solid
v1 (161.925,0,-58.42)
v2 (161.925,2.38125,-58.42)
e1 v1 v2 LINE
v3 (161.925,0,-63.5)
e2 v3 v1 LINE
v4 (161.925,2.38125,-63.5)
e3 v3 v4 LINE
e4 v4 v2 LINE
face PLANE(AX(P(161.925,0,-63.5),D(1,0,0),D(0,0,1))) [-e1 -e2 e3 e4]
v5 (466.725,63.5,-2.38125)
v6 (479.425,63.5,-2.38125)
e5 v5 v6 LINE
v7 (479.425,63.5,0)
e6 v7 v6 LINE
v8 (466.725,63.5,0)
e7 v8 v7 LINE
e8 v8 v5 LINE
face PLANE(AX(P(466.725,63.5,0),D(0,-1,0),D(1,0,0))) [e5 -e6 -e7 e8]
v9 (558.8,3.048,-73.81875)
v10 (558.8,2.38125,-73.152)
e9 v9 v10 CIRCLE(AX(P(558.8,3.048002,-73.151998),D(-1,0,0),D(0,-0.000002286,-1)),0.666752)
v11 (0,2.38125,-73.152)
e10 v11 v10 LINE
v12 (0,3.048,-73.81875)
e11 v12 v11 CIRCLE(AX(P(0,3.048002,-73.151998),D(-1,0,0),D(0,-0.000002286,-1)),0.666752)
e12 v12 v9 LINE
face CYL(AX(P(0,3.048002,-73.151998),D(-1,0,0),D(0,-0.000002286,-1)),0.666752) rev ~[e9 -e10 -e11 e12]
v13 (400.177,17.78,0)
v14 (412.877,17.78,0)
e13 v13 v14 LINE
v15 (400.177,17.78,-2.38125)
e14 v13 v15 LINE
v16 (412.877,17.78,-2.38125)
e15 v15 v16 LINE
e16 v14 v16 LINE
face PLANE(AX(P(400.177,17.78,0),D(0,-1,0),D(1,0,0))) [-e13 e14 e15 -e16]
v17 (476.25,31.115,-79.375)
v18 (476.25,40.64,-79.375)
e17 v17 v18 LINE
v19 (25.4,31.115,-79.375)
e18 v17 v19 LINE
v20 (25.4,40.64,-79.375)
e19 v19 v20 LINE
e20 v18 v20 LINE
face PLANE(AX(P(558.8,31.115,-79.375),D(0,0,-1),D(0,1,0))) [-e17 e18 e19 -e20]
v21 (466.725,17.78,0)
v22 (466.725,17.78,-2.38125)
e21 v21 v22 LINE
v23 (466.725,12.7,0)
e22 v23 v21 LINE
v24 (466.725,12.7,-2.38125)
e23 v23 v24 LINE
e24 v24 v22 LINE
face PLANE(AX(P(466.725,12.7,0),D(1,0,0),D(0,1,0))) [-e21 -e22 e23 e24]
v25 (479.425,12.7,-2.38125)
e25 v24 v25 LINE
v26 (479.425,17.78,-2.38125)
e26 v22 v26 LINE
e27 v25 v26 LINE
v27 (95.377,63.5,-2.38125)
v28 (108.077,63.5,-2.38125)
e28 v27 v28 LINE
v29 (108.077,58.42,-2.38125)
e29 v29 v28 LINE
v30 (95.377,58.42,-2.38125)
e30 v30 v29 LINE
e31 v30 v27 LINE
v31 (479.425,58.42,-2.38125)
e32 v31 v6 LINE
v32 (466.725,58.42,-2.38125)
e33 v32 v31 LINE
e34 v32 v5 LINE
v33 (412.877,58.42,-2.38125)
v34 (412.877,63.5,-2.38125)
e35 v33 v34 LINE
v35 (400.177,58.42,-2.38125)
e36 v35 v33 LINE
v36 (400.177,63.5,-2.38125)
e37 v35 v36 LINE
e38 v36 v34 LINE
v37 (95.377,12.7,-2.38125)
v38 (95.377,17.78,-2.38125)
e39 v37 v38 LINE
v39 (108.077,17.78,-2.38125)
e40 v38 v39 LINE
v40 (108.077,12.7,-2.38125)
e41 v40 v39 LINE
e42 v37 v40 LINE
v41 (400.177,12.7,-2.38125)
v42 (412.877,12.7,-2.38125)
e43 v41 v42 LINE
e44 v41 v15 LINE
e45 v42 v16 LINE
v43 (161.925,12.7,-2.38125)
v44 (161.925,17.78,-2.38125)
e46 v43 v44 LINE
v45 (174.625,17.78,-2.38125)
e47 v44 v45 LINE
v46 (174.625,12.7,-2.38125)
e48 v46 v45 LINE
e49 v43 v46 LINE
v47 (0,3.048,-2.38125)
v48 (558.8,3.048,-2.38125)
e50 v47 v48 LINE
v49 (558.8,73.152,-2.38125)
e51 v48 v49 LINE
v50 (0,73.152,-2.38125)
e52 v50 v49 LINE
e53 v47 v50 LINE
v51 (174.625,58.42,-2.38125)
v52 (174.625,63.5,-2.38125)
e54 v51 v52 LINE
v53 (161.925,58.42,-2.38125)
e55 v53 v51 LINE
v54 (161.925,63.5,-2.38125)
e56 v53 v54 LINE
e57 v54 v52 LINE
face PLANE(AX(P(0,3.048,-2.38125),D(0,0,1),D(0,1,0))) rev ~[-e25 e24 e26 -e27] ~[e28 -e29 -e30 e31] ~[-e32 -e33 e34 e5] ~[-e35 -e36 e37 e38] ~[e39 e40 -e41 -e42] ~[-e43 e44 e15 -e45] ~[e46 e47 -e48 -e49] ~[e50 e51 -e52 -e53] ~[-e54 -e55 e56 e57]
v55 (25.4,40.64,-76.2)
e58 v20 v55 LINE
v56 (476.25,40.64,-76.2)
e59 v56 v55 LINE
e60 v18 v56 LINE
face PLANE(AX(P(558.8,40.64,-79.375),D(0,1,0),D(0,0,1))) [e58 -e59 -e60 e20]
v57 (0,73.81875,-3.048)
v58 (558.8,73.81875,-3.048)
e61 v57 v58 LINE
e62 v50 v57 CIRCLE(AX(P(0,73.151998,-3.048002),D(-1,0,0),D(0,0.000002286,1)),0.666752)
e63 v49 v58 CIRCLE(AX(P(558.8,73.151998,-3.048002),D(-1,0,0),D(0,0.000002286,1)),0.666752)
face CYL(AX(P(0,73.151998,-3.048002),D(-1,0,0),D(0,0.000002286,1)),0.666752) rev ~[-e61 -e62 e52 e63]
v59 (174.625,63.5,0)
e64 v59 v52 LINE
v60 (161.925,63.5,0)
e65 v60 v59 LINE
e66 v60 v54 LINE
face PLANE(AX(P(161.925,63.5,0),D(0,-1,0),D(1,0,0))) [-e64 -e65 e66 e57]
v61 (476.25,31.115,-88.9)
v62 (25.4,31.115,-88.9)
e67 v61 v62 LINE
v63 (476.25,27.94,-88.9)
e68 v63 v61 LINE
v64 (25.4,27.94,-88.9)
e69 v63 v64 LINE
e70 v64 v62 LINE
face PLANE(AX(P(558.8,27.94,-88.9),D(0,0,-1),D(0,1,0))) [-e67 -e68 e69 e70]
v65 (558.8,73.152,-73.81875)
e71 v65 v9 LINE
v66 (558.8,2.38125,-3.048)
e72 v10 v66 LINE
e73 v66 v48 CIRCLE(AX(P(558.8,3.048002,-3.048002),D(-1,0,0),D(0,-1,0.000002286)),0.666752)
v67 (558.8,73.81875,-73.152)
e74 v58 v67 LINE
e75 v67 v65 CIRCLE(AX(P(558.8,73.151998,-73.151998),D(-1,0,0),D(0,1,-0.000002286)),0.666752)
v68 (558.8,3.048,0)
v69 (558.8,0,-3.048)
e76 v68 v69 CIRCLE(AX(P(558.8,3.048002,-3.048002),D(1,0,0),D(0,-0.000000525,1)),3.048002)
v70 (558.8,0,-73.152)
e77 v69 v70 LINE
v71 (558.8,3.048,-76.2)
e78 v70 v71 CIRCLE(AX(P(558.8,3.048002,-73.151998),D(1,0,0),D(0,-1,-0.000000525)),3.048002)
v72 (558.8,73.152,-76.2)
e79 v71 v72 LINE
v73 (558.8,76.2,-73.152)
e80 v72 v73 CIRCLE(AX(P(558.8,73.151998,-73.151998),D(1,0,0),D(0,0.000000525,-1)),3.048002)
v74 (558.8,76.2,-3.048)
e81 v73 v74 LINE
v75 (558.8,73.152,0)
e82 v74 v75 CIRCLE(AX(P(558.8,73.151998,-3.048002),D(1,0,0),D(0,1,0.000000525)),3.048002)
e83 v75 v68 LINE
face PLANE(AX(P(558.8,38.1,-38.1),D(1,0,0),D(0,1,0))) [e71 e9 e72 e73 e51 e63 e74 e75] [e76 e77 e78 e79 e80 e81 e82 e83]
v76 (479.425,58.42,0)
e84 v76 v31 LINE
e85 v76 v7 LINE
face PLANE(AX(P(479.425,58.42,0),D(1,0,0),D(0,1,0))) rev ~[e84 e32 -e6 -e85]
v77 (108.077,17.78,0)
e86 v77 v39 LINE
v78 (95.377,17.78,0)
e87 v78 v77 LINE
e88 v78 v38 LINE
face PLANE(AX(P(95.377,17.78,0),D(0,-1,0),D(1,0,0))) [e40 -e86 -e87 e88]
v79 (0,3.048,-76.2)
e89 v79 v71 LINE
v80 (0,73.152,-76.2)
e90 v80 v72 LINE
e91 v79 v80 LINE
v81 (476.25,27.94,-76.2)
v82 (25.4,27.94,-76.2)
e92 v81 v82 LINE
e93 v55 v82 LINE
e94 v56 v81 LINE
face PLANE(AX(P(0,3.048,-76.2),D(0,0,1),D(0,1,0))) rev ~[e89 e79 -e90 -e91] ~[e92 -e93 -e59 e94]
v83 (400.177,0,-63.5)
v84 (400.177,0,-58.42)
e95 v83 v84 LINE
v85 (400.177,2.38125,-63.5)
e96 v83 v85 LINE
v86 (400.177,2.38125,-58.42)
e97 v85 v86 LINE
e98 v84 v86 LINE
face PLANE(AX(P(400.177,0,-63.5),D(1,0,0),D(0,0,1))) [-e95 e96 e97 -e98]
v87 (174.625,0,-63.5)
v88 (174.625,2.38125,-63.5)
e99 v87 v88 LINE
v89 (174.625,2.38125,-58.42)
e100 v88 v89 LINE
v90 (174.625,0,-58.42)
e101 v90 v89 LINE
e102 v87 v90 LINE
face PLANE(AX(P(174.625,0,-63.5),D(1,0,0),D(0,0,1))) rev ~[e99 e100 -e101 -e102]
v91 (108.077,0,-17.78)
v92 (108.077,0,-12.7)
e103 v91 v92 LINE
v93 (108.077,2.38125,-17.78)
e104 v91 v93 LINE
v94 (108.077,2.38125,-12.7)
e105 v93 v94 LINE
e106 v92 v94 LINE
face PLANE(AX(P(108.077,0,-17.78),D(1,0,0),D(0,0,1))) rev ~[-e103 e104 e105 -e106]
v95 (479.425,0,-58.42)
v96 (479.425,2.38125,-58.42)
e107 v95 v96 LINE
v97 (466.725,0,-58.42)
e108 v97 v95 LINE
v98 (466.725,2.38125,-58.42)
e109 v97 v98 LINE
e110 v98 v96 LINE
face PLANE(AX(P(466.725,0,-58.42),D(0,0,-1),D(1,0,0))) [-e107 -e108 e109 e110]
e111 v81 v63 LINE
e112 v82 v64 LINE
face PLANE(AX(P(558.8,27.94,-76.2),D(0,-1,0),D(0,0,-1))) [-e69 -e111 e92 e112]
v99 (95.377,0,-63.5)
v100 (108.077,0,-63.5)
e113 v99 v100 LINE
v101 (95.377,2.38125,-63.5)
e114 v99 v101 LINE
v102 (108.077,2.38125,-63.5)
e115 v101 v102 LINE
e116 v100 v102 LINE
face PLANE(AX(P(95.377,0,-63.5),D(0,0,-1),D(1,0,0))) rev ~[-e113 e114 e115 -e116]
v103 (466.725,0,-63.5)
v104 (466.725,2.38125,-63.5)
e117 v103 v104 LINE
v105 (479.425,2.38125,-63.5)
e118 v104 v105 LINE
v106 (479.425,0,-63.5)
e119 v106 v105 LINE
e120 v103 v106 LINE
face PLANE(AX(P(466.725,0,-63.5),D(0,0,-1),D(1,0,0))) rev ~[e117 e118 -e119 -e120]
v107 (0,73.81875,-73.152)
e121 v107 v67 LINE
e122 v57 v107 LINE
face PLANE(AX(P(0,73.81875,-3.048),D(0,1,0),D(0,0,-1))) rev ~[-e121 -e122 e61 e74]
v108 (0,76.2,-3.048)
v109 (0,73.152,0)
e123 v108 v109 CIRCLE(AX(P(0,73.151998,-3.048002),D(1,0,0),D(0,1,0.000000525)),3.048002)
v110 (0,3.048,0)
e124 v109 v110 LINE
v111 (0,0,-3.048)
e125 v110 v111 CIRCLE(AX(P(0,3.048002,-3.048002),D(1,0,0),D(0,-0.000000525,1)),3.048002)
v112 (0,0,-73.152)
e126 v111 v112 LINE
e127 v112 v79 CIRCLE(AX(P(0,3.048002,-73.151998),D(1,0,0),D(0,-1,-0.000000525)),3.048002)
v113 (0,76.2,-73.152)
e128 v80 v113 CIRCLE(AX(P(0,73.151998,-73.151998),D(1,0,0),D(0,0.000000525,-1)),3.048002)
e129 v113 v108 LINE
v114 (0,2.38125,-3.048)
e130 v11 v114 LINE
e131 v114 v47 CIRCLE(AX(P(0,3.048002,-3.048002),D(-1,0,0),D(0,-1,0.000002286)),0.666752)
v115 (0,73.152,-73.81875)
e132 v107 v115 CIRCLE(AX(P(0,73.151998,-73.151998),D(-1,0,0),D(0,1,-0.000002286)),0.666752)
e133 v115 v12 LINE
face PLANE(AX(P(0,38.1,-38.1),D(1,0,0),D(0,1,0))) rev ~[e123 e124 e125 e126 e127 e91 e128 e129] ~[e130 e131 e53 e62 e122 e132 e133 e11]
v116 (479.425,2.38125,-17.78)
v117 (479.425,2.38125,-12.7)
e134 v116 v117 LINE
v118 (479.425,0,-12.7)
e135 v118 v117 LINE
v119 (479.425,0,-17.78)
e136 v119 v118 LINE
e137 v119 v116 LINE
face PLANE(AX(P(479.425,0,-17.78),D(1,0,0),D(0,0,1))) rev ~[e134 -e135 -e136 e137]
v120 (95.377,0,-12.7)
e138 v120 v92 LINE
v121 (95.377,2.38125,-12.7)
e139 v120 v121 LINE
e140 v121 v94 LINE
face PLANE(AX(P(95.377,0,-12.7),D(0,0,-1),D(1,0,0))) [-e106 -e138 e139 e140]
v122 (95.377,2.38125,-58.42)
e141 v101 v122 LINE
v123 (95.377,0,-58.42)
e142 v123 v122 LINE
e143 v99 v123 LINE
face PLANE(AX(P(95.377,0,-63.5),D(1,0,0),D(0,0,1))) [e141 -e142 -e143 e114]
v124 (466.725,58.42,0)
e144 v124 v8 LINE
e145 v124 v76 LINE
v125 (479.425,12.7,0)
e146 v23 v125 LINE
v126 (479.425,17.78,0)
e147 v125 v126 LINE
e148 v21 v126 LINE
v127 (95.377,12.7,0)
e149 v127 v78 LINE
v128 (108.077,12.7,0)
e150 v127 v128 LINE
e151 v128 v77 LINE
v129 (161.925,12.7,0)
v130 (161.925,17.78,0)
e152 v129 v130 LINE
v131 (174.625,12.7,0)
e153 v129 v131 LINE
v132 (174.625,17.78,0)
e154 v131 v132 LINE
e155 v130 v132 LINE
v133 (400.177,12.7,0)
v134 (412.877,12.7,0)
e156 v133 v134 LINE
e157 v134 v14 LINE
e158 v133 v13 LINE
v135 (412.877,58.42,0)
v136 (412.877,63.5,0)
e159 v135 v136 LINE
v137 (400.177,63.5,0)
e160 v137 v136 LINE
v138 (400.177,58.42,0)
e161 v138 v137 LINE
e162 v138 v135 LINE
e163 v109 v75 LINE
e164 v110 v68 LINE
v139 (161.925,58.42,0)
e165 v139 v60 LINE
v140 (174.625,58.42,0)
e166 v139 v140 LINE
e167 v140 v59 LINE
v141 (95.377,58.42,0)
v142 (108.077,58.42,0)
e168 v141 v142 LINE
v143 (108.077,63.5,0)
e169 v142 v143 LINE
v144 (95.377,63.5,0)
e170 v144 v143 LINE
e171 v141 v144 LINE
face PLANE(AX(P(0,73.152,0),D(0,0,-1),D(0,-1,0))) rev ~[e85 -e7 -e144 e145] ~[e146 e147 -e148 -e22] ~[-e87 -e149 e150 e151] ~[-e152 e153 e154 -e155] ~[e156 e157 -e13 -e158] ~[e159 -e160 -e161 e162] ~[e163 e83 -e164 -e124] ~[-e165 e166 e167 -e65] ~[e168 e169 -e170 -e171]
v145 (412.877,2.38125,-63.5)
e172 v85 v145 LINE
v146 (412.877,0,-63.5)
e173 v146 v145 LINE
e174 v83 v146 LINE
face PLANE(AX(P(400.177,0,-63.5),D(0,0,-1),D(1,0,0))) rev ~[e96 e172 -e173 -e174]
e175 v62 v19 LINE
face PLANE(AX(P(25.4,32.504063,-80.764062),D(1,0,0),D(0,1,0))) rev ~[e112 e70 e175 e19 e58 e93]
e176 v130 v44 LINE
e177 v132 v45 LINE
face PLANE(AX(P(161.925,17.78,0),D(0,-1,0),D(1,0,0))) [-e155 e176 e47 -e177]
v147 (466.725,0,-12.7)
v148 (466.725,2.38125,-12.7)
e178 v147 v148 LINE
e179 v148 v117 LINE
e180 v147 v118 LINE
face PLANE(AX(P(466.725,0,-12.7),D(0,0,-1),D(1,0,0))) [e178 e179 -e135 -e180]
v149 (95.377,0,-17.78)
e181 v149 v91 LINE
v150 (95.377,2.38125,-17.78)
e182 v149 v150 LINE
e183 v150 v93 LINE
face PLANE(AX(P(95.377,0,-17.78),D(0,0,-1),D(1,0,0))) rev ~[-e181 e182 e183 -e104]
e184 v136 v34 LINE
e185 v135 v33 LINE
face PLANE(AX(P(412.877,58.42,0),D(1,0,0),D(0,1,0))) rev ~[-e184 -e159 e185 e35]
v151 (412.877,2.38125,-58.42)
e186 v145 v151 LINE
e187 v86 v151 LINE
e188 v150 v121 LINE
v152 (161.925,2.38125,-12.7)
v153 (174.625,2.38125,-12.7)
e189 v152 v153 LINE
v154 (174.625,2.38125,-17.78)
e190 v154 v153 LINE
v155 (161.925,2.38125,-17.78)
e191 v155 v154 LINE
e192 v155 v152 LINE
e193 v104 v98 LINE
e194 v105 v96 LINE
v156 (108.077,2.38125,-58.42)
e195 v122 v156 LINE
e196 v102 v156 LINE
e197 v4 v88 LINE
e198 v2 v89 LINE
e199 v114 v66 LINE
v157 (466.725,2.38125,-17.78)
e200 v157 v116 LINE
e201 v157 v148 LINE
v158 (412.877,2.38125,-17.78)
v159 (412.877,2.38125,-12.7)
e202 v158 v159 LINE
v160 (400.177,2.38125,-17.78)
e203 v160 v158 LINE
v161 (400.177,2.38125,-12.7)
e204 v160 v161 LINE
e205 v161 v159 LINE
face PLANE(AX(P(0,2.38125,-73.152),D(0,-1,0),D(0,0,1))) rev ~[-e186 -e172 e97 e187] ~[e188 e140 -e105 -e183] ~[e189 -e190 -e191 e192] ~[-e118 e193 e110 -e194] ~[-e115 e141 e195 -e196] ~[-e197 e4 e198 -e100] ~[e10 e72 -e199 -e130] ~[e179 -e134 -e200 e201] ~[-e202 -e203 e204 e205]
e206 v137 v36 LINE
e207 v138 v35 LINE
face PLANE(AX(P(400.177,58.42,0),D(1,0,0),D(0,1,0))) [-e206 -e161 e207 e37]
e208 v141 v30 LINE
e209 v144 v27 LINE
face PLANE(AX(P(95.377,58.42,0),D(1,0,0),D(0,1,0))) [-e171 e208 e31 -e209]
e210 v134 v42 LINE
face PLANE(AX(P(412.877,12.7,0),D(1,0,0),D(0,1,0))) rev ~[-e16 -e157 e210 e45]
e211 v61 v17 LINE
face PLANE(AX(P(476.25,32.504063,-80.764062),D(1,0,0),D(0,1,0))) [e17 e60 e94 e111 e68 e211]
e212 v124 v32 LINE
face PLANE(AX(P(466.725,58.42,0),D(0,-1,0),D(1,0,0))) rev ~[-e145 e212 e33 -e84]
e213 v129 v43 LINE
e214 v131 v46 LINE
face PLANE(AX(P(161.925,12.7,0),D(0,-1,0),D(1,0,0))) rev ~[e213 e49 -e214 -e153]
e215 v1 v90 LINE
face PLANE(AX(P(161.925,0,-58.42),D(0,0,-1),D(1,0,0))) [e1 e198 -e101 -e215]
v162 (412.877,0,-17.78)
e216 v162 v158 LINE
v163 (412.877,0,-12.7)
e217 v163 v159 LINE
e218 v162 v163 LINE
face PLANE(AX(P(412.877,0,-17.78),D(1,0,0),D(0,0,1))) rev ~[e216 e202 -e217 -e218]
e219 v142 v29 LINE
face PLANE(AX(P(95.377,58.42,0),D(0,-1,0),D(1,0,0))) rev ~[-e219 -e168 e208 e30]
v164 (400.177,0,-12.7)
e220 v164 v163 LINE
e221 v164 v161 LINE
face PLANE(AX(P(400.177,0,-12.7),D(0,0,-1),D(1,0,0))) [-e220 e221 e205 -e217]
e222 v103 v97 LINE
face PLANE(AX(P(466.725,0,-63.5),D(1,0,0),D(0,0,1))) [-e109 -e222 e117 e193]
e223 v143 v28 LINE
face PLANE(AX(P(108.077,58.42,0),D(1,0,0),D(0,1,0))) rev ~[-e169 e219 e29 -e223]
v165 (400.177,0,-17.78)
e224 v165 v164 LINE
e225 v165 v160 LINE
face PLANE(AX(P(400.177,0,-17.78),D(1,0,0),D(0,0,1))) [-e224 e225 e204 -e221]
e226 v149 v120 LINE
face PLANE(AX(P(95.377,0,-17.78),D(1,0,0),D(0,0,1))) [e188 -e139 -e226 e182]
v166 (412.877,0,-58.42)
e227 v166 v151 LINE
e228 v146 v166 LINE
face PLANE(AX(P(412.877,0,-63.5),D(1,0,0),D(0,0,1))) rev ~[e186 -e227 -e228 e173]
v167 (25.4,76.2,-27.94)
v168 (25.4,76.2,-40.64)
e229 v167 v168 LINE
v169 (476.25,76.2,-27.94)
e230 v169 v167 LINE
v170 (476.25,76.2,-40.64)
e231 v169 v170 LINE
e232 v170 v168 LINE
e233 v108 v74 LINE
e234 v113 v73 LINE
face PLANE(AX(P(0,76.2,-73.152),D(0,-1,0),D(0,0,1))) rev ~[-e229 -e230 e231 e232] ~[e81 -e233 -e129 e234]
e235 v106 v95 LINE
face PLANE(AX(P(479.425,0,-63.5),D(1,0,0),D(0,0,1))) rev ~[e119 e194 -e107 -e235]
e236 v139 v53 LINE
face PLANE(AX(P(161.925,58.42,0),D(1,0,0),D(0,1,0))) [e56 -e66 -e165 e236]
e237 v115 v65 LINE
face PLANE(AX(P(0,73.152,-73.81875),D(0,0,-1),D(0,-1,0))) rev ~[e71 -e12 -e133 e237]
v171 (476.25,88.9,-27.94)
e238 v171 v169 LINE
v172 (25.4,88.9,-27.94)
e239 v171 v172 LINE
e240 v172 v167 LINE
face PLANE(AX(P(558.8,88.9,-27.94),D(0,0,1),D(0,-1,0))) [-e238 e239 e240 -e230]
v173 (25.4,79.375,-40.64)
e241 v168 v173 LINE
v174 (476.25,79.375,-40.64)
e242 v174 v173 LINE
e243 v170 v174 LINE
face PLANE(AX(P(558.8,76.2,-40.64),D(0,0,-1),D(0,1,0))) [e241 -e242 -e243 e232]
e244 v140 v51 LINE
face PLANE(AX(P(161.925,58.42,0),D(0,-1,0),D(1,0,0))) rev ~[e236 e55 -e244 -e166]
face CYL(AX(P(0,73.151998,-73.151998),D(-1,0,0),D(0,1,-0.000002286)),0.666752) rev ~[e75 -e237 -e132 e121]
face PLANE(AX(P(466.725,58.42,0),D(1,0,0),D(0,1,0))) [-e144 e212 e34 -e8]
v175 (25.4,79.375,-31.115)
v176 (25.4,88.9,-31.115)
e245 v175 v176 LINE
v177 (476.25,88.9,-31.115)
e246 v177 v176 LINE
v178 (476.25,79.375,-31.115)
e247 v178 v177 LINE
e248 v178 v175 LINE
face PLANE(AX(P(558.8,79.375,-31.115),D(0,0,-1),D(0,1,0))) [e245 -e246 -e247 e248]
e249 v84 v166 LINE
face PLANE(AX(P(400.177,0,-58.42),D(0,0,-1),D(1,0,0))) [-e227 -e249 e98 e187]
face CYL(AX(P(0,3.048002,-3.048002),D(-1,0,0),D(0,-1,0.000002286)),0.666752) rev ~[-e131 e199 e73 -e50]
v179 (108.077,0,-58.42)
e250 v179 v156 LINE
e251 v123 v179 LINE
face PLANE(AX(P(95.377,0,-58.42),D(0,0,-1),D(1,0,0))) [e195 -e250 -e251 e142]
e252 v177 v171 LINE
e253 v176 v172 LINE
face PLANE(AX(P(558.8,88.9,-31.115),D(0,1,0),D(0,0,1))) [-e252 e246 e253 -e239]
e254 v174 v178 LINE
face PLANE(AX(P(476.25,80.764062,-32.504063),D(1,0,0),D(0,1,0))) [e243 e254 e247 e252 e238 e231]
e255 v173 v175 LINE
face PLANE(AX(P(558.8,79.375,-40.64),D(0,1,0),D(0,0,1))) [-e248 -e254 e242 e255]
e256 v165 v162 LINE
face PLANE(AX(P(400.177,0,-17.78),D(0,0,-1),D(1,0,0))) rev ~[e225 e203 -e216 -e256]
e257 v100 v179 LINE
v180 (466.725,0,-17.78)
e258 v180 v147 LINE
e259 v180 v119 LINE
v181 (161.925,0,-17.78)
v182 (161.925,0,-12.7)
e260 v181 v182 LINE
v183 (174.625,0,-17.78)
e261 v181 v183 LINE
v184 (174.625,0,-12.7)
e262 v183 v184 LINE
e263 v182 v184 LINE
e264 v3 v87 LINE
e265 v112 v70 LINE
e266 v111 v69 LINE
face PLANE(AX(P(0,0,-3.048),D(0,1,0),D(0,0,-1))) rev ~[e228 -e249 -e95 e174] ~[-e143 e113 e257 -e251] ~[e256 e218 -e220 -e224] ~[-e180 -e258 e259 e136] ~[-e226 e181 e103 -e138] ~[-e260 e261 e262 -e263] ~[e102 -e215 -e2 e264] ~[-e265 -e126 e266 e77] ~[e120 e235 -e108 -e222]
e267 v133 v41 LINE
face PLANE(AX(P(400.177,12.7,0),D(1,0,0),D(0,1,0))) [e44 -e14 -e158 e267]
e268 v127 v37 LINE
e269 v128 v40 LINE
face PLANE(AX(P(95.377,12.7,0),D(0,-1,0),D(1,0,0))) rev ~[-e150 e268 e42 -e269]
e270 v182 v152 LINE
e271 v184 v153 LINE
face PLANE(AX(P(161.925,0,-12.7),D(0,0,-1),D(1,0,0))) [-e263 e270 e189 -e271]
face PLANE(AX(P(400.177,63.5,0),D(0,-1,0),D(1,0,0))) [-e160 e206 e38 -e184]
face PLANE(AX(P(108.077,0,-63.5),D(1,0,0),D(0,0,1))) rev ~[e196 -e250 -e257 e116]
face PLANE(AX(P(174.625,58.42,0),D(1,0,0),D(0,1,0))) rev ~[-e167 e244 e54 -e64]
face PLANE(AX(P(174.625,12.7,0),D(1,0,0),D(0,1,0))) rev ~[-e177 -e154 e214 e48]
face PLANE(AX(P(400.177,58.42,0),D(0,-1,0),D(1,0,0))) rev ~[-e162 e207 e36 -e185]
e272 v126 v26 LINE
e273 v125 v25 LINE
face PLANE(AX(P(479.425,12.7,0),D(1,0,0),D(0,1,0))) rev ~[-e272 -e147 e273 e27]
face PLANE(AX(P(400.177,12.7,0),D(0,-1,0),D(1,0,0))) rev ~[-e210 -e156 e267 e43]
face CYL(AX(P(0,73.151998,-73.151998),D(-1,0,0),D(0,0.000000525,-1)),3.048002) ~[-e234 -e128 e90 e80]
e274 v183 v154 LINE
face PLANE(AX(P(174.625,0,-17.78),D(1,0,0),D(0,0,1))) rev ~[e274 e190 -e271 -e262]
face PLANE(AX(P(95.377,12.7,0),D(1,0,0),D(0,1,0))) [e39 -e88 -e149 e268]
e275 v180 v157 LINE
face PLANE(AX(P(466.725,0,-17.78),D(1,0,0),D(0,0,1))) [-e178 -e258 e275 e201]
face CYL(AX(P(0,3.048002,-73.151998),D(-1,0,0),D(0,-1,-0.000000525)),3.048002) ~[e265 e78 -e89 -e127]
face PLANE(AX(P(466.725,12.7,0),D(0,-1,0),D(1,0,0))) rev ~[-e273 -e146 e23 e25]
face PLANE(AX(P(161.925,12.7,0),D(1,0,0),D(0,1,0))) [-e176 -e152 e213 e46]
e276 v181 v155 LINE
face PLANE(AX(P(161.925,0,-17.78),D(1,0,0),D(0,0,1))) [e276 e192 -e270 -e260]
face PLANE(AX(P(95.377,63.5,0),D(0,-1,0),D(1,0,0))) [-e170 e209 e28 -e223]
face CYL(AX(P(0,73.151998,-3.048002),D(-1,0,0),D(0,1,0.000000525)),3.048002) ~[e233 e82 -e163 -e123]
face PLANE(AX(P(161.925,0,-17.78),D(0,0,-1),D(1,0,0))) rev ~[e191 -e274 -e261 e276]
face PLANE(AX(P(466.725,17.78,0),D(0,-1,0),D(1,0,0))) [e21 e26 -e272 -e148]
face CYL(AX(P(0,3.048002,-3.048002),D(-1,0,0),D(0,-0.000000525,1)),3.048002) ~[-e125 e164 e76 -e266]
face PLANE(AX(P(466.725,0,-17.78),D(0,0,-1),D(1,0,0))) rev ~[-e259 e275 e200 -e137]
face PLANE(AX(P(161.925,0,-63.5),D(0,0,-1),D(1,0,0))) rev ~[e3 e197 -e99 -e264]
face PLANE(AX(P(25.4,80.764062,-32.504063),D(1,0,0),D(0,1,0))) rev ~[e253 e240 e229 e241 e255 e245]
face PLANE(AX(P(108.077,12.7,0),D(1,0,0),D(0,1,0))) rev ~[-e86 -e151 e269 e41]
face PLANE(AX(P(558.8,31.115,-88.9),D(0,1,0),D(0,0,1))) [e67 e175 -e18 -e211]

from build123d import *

# Parameters (mm, degrees)
F1_DEPTH = 558.8
F2_W     = 12.7
F2_H     = 5.08
F3_DEPTH = 2.38125
F4_DEPTH = 2.38125
F5_W     = 12.7
F5_H     = 5.08
F6_DEPTH = 2.38125
F8_DEPTH = 533.4
F9_DEPTH = 82.55


with BuildPart() as f1:
    # F0 (on Right) → F1 (new body)
    with BuildSketch(Plane.YZ):
        with BuildLine():
            Line((73.152, 0), (3.048, 0))
            ThreePointArc((3.048, 0), (0.892739, -0.892739), (0, -3.048))
            Line((0, -3.048), (0, -73.152))
            ThreePointArc((0, -73.152), (0.892739, -75.307261), (3.048, -76.2))
            Line((3.048, -76.2), (73.152, -76.2))
            ThreePointArc((73.152, -76.2), (75.307261, -75.307261), (76.2, -73.152))
            Line((76.2, -73.152), (76.2, -3.048))
            ThreePointArc((76.2, -3.048), (75.307261, -0.892739), (73.152, 0))
        make_face()
        with BuildLine():
            ThreePointArc((73.152, -2.38125), (73.623463, -2.576537), (73.81875, -3.048))
            Line((73.81875, -3.048), (73.81875, -73.152))
            ThreePointArc((73.81875, -73.152), (73.623463, -73.623463), (73.152, -73.81875))
            Line((73.152, -73.81875), (3.048, -73.81875))
            ThreePointArc((3.048, -73.81875), (2.576537, -73.623463), (2.38125, -73.152))
            Line((2.38125, -73.152), (2.38125, -3.048))
            ThreePointArc((2.38125, -3.048), (2.576537, -2.576537), (3.048, -2.38125))
            Line((3.048, -2.38125), (73.152, -2.38125))
        make_face(mode=Mode.SUBTRACT)
    extrude(amount=F1_DEPTH)

    # F2 (on face) → F3 (cut)
    with BuildSketch(Plane.XY):
        with Locations((473.075, 60.96)):
            Rectangle(F2_W, F2_H)
        with Locations((473.075, 15.24)):
            Rectangle(F2_W, F2_H)
        with Locations((406.527, 15.24)):
            Rectangle(F2_W, F2_H)
        with Locations((406.527, 60.96)):
            Rectangle(F2_W, F2_H)
    extrude(amount=-F3_DEPTH, mode=Mode.SUBTRACT)

    # F2 (on face) → F4 (cut)
    with BuildSketch(Plane.XY):
        with Locations((168.275, 60.96)):
            Rectangle(F2_W, F2_H)
        with Locations((168.275, 15.24)):
            Rectangle(F2_W, F2_H)
        with Locations((101.727, 15.24)):
            Rectangle(F2_W, F2_H)
        with Locations((101.727, 60.96)):
            Rectangle(F2_W, F2_H)
    extrude(amount=-F4_DEPTH, mode=Mode.SUBTRACT)

    # F5 (on face) → F6 (cut)
    with BuildSketch(Plane.XZ):
        with Locations((473.075, -15.24)):
            Rectangle(F5_W, F5_H)
        with Locations((473.075, -60.96)):
            Rectangle(F5_W, F5_H)
        with Locations((406.527, -60.96)):
            Rectangle(F5_W, F5_H)
        with Locations((406.527, -15.24)):
            Rectangle(F5_W, F5_H)
        with Locations((168.275, -60.96)):
            Rectangle(F5_W, F5_H)
        with Locations((168.275, -15.24)):
            Rectangle(F5_W, F5_H)
        with Locations((101.727, -60.96)):
            Rectangle(F5_W, F5_H)
        with Locations((101.727, -15.24)):
            Rectangle(F5_W, F5_H)
    extrude(amount=-F6_DEPTH, mode=Mode.SUBTRACT)

    # F7 (on face) → F8 (join)
    with BuildSketch(Plane.YZ.offset(558.8)):
        Polygon((88.9, -27.94), (76.2, -27.94), (76.2, -40.64), (79.375, -40.64), (79.375, -31.115), (88.9, -31.115), align=None)
        Polygon((40.64, -79.375), (40.64, -76.2), (27.94, -76.2), (27.94, -88.9), (31.115, -88.9), (31.115, -79.375), align=None)
    extrude(amount=-F8_DEPTH)

    # F7 (on face) → F9 (cut)
    with BuildSketch(Plane.YZ.offset(558.8)):
        Polygon((88.9, -27.94), (76.2, -27.94), (76.2, -40.64), (79.375, -40.64), (79.375, -31.115), (88.9, -31.115), align=None)
        Polygon((40.64, -79.375), (40.64, -76.2), (27.94, -76.2), (27.94, -88.9), (31.115, -88.9), (31.115, -79.375), align=None)
    extrude(amount=-F9_DEPTH, mode=Mode.SUBTRACT)


solid = f1.part
